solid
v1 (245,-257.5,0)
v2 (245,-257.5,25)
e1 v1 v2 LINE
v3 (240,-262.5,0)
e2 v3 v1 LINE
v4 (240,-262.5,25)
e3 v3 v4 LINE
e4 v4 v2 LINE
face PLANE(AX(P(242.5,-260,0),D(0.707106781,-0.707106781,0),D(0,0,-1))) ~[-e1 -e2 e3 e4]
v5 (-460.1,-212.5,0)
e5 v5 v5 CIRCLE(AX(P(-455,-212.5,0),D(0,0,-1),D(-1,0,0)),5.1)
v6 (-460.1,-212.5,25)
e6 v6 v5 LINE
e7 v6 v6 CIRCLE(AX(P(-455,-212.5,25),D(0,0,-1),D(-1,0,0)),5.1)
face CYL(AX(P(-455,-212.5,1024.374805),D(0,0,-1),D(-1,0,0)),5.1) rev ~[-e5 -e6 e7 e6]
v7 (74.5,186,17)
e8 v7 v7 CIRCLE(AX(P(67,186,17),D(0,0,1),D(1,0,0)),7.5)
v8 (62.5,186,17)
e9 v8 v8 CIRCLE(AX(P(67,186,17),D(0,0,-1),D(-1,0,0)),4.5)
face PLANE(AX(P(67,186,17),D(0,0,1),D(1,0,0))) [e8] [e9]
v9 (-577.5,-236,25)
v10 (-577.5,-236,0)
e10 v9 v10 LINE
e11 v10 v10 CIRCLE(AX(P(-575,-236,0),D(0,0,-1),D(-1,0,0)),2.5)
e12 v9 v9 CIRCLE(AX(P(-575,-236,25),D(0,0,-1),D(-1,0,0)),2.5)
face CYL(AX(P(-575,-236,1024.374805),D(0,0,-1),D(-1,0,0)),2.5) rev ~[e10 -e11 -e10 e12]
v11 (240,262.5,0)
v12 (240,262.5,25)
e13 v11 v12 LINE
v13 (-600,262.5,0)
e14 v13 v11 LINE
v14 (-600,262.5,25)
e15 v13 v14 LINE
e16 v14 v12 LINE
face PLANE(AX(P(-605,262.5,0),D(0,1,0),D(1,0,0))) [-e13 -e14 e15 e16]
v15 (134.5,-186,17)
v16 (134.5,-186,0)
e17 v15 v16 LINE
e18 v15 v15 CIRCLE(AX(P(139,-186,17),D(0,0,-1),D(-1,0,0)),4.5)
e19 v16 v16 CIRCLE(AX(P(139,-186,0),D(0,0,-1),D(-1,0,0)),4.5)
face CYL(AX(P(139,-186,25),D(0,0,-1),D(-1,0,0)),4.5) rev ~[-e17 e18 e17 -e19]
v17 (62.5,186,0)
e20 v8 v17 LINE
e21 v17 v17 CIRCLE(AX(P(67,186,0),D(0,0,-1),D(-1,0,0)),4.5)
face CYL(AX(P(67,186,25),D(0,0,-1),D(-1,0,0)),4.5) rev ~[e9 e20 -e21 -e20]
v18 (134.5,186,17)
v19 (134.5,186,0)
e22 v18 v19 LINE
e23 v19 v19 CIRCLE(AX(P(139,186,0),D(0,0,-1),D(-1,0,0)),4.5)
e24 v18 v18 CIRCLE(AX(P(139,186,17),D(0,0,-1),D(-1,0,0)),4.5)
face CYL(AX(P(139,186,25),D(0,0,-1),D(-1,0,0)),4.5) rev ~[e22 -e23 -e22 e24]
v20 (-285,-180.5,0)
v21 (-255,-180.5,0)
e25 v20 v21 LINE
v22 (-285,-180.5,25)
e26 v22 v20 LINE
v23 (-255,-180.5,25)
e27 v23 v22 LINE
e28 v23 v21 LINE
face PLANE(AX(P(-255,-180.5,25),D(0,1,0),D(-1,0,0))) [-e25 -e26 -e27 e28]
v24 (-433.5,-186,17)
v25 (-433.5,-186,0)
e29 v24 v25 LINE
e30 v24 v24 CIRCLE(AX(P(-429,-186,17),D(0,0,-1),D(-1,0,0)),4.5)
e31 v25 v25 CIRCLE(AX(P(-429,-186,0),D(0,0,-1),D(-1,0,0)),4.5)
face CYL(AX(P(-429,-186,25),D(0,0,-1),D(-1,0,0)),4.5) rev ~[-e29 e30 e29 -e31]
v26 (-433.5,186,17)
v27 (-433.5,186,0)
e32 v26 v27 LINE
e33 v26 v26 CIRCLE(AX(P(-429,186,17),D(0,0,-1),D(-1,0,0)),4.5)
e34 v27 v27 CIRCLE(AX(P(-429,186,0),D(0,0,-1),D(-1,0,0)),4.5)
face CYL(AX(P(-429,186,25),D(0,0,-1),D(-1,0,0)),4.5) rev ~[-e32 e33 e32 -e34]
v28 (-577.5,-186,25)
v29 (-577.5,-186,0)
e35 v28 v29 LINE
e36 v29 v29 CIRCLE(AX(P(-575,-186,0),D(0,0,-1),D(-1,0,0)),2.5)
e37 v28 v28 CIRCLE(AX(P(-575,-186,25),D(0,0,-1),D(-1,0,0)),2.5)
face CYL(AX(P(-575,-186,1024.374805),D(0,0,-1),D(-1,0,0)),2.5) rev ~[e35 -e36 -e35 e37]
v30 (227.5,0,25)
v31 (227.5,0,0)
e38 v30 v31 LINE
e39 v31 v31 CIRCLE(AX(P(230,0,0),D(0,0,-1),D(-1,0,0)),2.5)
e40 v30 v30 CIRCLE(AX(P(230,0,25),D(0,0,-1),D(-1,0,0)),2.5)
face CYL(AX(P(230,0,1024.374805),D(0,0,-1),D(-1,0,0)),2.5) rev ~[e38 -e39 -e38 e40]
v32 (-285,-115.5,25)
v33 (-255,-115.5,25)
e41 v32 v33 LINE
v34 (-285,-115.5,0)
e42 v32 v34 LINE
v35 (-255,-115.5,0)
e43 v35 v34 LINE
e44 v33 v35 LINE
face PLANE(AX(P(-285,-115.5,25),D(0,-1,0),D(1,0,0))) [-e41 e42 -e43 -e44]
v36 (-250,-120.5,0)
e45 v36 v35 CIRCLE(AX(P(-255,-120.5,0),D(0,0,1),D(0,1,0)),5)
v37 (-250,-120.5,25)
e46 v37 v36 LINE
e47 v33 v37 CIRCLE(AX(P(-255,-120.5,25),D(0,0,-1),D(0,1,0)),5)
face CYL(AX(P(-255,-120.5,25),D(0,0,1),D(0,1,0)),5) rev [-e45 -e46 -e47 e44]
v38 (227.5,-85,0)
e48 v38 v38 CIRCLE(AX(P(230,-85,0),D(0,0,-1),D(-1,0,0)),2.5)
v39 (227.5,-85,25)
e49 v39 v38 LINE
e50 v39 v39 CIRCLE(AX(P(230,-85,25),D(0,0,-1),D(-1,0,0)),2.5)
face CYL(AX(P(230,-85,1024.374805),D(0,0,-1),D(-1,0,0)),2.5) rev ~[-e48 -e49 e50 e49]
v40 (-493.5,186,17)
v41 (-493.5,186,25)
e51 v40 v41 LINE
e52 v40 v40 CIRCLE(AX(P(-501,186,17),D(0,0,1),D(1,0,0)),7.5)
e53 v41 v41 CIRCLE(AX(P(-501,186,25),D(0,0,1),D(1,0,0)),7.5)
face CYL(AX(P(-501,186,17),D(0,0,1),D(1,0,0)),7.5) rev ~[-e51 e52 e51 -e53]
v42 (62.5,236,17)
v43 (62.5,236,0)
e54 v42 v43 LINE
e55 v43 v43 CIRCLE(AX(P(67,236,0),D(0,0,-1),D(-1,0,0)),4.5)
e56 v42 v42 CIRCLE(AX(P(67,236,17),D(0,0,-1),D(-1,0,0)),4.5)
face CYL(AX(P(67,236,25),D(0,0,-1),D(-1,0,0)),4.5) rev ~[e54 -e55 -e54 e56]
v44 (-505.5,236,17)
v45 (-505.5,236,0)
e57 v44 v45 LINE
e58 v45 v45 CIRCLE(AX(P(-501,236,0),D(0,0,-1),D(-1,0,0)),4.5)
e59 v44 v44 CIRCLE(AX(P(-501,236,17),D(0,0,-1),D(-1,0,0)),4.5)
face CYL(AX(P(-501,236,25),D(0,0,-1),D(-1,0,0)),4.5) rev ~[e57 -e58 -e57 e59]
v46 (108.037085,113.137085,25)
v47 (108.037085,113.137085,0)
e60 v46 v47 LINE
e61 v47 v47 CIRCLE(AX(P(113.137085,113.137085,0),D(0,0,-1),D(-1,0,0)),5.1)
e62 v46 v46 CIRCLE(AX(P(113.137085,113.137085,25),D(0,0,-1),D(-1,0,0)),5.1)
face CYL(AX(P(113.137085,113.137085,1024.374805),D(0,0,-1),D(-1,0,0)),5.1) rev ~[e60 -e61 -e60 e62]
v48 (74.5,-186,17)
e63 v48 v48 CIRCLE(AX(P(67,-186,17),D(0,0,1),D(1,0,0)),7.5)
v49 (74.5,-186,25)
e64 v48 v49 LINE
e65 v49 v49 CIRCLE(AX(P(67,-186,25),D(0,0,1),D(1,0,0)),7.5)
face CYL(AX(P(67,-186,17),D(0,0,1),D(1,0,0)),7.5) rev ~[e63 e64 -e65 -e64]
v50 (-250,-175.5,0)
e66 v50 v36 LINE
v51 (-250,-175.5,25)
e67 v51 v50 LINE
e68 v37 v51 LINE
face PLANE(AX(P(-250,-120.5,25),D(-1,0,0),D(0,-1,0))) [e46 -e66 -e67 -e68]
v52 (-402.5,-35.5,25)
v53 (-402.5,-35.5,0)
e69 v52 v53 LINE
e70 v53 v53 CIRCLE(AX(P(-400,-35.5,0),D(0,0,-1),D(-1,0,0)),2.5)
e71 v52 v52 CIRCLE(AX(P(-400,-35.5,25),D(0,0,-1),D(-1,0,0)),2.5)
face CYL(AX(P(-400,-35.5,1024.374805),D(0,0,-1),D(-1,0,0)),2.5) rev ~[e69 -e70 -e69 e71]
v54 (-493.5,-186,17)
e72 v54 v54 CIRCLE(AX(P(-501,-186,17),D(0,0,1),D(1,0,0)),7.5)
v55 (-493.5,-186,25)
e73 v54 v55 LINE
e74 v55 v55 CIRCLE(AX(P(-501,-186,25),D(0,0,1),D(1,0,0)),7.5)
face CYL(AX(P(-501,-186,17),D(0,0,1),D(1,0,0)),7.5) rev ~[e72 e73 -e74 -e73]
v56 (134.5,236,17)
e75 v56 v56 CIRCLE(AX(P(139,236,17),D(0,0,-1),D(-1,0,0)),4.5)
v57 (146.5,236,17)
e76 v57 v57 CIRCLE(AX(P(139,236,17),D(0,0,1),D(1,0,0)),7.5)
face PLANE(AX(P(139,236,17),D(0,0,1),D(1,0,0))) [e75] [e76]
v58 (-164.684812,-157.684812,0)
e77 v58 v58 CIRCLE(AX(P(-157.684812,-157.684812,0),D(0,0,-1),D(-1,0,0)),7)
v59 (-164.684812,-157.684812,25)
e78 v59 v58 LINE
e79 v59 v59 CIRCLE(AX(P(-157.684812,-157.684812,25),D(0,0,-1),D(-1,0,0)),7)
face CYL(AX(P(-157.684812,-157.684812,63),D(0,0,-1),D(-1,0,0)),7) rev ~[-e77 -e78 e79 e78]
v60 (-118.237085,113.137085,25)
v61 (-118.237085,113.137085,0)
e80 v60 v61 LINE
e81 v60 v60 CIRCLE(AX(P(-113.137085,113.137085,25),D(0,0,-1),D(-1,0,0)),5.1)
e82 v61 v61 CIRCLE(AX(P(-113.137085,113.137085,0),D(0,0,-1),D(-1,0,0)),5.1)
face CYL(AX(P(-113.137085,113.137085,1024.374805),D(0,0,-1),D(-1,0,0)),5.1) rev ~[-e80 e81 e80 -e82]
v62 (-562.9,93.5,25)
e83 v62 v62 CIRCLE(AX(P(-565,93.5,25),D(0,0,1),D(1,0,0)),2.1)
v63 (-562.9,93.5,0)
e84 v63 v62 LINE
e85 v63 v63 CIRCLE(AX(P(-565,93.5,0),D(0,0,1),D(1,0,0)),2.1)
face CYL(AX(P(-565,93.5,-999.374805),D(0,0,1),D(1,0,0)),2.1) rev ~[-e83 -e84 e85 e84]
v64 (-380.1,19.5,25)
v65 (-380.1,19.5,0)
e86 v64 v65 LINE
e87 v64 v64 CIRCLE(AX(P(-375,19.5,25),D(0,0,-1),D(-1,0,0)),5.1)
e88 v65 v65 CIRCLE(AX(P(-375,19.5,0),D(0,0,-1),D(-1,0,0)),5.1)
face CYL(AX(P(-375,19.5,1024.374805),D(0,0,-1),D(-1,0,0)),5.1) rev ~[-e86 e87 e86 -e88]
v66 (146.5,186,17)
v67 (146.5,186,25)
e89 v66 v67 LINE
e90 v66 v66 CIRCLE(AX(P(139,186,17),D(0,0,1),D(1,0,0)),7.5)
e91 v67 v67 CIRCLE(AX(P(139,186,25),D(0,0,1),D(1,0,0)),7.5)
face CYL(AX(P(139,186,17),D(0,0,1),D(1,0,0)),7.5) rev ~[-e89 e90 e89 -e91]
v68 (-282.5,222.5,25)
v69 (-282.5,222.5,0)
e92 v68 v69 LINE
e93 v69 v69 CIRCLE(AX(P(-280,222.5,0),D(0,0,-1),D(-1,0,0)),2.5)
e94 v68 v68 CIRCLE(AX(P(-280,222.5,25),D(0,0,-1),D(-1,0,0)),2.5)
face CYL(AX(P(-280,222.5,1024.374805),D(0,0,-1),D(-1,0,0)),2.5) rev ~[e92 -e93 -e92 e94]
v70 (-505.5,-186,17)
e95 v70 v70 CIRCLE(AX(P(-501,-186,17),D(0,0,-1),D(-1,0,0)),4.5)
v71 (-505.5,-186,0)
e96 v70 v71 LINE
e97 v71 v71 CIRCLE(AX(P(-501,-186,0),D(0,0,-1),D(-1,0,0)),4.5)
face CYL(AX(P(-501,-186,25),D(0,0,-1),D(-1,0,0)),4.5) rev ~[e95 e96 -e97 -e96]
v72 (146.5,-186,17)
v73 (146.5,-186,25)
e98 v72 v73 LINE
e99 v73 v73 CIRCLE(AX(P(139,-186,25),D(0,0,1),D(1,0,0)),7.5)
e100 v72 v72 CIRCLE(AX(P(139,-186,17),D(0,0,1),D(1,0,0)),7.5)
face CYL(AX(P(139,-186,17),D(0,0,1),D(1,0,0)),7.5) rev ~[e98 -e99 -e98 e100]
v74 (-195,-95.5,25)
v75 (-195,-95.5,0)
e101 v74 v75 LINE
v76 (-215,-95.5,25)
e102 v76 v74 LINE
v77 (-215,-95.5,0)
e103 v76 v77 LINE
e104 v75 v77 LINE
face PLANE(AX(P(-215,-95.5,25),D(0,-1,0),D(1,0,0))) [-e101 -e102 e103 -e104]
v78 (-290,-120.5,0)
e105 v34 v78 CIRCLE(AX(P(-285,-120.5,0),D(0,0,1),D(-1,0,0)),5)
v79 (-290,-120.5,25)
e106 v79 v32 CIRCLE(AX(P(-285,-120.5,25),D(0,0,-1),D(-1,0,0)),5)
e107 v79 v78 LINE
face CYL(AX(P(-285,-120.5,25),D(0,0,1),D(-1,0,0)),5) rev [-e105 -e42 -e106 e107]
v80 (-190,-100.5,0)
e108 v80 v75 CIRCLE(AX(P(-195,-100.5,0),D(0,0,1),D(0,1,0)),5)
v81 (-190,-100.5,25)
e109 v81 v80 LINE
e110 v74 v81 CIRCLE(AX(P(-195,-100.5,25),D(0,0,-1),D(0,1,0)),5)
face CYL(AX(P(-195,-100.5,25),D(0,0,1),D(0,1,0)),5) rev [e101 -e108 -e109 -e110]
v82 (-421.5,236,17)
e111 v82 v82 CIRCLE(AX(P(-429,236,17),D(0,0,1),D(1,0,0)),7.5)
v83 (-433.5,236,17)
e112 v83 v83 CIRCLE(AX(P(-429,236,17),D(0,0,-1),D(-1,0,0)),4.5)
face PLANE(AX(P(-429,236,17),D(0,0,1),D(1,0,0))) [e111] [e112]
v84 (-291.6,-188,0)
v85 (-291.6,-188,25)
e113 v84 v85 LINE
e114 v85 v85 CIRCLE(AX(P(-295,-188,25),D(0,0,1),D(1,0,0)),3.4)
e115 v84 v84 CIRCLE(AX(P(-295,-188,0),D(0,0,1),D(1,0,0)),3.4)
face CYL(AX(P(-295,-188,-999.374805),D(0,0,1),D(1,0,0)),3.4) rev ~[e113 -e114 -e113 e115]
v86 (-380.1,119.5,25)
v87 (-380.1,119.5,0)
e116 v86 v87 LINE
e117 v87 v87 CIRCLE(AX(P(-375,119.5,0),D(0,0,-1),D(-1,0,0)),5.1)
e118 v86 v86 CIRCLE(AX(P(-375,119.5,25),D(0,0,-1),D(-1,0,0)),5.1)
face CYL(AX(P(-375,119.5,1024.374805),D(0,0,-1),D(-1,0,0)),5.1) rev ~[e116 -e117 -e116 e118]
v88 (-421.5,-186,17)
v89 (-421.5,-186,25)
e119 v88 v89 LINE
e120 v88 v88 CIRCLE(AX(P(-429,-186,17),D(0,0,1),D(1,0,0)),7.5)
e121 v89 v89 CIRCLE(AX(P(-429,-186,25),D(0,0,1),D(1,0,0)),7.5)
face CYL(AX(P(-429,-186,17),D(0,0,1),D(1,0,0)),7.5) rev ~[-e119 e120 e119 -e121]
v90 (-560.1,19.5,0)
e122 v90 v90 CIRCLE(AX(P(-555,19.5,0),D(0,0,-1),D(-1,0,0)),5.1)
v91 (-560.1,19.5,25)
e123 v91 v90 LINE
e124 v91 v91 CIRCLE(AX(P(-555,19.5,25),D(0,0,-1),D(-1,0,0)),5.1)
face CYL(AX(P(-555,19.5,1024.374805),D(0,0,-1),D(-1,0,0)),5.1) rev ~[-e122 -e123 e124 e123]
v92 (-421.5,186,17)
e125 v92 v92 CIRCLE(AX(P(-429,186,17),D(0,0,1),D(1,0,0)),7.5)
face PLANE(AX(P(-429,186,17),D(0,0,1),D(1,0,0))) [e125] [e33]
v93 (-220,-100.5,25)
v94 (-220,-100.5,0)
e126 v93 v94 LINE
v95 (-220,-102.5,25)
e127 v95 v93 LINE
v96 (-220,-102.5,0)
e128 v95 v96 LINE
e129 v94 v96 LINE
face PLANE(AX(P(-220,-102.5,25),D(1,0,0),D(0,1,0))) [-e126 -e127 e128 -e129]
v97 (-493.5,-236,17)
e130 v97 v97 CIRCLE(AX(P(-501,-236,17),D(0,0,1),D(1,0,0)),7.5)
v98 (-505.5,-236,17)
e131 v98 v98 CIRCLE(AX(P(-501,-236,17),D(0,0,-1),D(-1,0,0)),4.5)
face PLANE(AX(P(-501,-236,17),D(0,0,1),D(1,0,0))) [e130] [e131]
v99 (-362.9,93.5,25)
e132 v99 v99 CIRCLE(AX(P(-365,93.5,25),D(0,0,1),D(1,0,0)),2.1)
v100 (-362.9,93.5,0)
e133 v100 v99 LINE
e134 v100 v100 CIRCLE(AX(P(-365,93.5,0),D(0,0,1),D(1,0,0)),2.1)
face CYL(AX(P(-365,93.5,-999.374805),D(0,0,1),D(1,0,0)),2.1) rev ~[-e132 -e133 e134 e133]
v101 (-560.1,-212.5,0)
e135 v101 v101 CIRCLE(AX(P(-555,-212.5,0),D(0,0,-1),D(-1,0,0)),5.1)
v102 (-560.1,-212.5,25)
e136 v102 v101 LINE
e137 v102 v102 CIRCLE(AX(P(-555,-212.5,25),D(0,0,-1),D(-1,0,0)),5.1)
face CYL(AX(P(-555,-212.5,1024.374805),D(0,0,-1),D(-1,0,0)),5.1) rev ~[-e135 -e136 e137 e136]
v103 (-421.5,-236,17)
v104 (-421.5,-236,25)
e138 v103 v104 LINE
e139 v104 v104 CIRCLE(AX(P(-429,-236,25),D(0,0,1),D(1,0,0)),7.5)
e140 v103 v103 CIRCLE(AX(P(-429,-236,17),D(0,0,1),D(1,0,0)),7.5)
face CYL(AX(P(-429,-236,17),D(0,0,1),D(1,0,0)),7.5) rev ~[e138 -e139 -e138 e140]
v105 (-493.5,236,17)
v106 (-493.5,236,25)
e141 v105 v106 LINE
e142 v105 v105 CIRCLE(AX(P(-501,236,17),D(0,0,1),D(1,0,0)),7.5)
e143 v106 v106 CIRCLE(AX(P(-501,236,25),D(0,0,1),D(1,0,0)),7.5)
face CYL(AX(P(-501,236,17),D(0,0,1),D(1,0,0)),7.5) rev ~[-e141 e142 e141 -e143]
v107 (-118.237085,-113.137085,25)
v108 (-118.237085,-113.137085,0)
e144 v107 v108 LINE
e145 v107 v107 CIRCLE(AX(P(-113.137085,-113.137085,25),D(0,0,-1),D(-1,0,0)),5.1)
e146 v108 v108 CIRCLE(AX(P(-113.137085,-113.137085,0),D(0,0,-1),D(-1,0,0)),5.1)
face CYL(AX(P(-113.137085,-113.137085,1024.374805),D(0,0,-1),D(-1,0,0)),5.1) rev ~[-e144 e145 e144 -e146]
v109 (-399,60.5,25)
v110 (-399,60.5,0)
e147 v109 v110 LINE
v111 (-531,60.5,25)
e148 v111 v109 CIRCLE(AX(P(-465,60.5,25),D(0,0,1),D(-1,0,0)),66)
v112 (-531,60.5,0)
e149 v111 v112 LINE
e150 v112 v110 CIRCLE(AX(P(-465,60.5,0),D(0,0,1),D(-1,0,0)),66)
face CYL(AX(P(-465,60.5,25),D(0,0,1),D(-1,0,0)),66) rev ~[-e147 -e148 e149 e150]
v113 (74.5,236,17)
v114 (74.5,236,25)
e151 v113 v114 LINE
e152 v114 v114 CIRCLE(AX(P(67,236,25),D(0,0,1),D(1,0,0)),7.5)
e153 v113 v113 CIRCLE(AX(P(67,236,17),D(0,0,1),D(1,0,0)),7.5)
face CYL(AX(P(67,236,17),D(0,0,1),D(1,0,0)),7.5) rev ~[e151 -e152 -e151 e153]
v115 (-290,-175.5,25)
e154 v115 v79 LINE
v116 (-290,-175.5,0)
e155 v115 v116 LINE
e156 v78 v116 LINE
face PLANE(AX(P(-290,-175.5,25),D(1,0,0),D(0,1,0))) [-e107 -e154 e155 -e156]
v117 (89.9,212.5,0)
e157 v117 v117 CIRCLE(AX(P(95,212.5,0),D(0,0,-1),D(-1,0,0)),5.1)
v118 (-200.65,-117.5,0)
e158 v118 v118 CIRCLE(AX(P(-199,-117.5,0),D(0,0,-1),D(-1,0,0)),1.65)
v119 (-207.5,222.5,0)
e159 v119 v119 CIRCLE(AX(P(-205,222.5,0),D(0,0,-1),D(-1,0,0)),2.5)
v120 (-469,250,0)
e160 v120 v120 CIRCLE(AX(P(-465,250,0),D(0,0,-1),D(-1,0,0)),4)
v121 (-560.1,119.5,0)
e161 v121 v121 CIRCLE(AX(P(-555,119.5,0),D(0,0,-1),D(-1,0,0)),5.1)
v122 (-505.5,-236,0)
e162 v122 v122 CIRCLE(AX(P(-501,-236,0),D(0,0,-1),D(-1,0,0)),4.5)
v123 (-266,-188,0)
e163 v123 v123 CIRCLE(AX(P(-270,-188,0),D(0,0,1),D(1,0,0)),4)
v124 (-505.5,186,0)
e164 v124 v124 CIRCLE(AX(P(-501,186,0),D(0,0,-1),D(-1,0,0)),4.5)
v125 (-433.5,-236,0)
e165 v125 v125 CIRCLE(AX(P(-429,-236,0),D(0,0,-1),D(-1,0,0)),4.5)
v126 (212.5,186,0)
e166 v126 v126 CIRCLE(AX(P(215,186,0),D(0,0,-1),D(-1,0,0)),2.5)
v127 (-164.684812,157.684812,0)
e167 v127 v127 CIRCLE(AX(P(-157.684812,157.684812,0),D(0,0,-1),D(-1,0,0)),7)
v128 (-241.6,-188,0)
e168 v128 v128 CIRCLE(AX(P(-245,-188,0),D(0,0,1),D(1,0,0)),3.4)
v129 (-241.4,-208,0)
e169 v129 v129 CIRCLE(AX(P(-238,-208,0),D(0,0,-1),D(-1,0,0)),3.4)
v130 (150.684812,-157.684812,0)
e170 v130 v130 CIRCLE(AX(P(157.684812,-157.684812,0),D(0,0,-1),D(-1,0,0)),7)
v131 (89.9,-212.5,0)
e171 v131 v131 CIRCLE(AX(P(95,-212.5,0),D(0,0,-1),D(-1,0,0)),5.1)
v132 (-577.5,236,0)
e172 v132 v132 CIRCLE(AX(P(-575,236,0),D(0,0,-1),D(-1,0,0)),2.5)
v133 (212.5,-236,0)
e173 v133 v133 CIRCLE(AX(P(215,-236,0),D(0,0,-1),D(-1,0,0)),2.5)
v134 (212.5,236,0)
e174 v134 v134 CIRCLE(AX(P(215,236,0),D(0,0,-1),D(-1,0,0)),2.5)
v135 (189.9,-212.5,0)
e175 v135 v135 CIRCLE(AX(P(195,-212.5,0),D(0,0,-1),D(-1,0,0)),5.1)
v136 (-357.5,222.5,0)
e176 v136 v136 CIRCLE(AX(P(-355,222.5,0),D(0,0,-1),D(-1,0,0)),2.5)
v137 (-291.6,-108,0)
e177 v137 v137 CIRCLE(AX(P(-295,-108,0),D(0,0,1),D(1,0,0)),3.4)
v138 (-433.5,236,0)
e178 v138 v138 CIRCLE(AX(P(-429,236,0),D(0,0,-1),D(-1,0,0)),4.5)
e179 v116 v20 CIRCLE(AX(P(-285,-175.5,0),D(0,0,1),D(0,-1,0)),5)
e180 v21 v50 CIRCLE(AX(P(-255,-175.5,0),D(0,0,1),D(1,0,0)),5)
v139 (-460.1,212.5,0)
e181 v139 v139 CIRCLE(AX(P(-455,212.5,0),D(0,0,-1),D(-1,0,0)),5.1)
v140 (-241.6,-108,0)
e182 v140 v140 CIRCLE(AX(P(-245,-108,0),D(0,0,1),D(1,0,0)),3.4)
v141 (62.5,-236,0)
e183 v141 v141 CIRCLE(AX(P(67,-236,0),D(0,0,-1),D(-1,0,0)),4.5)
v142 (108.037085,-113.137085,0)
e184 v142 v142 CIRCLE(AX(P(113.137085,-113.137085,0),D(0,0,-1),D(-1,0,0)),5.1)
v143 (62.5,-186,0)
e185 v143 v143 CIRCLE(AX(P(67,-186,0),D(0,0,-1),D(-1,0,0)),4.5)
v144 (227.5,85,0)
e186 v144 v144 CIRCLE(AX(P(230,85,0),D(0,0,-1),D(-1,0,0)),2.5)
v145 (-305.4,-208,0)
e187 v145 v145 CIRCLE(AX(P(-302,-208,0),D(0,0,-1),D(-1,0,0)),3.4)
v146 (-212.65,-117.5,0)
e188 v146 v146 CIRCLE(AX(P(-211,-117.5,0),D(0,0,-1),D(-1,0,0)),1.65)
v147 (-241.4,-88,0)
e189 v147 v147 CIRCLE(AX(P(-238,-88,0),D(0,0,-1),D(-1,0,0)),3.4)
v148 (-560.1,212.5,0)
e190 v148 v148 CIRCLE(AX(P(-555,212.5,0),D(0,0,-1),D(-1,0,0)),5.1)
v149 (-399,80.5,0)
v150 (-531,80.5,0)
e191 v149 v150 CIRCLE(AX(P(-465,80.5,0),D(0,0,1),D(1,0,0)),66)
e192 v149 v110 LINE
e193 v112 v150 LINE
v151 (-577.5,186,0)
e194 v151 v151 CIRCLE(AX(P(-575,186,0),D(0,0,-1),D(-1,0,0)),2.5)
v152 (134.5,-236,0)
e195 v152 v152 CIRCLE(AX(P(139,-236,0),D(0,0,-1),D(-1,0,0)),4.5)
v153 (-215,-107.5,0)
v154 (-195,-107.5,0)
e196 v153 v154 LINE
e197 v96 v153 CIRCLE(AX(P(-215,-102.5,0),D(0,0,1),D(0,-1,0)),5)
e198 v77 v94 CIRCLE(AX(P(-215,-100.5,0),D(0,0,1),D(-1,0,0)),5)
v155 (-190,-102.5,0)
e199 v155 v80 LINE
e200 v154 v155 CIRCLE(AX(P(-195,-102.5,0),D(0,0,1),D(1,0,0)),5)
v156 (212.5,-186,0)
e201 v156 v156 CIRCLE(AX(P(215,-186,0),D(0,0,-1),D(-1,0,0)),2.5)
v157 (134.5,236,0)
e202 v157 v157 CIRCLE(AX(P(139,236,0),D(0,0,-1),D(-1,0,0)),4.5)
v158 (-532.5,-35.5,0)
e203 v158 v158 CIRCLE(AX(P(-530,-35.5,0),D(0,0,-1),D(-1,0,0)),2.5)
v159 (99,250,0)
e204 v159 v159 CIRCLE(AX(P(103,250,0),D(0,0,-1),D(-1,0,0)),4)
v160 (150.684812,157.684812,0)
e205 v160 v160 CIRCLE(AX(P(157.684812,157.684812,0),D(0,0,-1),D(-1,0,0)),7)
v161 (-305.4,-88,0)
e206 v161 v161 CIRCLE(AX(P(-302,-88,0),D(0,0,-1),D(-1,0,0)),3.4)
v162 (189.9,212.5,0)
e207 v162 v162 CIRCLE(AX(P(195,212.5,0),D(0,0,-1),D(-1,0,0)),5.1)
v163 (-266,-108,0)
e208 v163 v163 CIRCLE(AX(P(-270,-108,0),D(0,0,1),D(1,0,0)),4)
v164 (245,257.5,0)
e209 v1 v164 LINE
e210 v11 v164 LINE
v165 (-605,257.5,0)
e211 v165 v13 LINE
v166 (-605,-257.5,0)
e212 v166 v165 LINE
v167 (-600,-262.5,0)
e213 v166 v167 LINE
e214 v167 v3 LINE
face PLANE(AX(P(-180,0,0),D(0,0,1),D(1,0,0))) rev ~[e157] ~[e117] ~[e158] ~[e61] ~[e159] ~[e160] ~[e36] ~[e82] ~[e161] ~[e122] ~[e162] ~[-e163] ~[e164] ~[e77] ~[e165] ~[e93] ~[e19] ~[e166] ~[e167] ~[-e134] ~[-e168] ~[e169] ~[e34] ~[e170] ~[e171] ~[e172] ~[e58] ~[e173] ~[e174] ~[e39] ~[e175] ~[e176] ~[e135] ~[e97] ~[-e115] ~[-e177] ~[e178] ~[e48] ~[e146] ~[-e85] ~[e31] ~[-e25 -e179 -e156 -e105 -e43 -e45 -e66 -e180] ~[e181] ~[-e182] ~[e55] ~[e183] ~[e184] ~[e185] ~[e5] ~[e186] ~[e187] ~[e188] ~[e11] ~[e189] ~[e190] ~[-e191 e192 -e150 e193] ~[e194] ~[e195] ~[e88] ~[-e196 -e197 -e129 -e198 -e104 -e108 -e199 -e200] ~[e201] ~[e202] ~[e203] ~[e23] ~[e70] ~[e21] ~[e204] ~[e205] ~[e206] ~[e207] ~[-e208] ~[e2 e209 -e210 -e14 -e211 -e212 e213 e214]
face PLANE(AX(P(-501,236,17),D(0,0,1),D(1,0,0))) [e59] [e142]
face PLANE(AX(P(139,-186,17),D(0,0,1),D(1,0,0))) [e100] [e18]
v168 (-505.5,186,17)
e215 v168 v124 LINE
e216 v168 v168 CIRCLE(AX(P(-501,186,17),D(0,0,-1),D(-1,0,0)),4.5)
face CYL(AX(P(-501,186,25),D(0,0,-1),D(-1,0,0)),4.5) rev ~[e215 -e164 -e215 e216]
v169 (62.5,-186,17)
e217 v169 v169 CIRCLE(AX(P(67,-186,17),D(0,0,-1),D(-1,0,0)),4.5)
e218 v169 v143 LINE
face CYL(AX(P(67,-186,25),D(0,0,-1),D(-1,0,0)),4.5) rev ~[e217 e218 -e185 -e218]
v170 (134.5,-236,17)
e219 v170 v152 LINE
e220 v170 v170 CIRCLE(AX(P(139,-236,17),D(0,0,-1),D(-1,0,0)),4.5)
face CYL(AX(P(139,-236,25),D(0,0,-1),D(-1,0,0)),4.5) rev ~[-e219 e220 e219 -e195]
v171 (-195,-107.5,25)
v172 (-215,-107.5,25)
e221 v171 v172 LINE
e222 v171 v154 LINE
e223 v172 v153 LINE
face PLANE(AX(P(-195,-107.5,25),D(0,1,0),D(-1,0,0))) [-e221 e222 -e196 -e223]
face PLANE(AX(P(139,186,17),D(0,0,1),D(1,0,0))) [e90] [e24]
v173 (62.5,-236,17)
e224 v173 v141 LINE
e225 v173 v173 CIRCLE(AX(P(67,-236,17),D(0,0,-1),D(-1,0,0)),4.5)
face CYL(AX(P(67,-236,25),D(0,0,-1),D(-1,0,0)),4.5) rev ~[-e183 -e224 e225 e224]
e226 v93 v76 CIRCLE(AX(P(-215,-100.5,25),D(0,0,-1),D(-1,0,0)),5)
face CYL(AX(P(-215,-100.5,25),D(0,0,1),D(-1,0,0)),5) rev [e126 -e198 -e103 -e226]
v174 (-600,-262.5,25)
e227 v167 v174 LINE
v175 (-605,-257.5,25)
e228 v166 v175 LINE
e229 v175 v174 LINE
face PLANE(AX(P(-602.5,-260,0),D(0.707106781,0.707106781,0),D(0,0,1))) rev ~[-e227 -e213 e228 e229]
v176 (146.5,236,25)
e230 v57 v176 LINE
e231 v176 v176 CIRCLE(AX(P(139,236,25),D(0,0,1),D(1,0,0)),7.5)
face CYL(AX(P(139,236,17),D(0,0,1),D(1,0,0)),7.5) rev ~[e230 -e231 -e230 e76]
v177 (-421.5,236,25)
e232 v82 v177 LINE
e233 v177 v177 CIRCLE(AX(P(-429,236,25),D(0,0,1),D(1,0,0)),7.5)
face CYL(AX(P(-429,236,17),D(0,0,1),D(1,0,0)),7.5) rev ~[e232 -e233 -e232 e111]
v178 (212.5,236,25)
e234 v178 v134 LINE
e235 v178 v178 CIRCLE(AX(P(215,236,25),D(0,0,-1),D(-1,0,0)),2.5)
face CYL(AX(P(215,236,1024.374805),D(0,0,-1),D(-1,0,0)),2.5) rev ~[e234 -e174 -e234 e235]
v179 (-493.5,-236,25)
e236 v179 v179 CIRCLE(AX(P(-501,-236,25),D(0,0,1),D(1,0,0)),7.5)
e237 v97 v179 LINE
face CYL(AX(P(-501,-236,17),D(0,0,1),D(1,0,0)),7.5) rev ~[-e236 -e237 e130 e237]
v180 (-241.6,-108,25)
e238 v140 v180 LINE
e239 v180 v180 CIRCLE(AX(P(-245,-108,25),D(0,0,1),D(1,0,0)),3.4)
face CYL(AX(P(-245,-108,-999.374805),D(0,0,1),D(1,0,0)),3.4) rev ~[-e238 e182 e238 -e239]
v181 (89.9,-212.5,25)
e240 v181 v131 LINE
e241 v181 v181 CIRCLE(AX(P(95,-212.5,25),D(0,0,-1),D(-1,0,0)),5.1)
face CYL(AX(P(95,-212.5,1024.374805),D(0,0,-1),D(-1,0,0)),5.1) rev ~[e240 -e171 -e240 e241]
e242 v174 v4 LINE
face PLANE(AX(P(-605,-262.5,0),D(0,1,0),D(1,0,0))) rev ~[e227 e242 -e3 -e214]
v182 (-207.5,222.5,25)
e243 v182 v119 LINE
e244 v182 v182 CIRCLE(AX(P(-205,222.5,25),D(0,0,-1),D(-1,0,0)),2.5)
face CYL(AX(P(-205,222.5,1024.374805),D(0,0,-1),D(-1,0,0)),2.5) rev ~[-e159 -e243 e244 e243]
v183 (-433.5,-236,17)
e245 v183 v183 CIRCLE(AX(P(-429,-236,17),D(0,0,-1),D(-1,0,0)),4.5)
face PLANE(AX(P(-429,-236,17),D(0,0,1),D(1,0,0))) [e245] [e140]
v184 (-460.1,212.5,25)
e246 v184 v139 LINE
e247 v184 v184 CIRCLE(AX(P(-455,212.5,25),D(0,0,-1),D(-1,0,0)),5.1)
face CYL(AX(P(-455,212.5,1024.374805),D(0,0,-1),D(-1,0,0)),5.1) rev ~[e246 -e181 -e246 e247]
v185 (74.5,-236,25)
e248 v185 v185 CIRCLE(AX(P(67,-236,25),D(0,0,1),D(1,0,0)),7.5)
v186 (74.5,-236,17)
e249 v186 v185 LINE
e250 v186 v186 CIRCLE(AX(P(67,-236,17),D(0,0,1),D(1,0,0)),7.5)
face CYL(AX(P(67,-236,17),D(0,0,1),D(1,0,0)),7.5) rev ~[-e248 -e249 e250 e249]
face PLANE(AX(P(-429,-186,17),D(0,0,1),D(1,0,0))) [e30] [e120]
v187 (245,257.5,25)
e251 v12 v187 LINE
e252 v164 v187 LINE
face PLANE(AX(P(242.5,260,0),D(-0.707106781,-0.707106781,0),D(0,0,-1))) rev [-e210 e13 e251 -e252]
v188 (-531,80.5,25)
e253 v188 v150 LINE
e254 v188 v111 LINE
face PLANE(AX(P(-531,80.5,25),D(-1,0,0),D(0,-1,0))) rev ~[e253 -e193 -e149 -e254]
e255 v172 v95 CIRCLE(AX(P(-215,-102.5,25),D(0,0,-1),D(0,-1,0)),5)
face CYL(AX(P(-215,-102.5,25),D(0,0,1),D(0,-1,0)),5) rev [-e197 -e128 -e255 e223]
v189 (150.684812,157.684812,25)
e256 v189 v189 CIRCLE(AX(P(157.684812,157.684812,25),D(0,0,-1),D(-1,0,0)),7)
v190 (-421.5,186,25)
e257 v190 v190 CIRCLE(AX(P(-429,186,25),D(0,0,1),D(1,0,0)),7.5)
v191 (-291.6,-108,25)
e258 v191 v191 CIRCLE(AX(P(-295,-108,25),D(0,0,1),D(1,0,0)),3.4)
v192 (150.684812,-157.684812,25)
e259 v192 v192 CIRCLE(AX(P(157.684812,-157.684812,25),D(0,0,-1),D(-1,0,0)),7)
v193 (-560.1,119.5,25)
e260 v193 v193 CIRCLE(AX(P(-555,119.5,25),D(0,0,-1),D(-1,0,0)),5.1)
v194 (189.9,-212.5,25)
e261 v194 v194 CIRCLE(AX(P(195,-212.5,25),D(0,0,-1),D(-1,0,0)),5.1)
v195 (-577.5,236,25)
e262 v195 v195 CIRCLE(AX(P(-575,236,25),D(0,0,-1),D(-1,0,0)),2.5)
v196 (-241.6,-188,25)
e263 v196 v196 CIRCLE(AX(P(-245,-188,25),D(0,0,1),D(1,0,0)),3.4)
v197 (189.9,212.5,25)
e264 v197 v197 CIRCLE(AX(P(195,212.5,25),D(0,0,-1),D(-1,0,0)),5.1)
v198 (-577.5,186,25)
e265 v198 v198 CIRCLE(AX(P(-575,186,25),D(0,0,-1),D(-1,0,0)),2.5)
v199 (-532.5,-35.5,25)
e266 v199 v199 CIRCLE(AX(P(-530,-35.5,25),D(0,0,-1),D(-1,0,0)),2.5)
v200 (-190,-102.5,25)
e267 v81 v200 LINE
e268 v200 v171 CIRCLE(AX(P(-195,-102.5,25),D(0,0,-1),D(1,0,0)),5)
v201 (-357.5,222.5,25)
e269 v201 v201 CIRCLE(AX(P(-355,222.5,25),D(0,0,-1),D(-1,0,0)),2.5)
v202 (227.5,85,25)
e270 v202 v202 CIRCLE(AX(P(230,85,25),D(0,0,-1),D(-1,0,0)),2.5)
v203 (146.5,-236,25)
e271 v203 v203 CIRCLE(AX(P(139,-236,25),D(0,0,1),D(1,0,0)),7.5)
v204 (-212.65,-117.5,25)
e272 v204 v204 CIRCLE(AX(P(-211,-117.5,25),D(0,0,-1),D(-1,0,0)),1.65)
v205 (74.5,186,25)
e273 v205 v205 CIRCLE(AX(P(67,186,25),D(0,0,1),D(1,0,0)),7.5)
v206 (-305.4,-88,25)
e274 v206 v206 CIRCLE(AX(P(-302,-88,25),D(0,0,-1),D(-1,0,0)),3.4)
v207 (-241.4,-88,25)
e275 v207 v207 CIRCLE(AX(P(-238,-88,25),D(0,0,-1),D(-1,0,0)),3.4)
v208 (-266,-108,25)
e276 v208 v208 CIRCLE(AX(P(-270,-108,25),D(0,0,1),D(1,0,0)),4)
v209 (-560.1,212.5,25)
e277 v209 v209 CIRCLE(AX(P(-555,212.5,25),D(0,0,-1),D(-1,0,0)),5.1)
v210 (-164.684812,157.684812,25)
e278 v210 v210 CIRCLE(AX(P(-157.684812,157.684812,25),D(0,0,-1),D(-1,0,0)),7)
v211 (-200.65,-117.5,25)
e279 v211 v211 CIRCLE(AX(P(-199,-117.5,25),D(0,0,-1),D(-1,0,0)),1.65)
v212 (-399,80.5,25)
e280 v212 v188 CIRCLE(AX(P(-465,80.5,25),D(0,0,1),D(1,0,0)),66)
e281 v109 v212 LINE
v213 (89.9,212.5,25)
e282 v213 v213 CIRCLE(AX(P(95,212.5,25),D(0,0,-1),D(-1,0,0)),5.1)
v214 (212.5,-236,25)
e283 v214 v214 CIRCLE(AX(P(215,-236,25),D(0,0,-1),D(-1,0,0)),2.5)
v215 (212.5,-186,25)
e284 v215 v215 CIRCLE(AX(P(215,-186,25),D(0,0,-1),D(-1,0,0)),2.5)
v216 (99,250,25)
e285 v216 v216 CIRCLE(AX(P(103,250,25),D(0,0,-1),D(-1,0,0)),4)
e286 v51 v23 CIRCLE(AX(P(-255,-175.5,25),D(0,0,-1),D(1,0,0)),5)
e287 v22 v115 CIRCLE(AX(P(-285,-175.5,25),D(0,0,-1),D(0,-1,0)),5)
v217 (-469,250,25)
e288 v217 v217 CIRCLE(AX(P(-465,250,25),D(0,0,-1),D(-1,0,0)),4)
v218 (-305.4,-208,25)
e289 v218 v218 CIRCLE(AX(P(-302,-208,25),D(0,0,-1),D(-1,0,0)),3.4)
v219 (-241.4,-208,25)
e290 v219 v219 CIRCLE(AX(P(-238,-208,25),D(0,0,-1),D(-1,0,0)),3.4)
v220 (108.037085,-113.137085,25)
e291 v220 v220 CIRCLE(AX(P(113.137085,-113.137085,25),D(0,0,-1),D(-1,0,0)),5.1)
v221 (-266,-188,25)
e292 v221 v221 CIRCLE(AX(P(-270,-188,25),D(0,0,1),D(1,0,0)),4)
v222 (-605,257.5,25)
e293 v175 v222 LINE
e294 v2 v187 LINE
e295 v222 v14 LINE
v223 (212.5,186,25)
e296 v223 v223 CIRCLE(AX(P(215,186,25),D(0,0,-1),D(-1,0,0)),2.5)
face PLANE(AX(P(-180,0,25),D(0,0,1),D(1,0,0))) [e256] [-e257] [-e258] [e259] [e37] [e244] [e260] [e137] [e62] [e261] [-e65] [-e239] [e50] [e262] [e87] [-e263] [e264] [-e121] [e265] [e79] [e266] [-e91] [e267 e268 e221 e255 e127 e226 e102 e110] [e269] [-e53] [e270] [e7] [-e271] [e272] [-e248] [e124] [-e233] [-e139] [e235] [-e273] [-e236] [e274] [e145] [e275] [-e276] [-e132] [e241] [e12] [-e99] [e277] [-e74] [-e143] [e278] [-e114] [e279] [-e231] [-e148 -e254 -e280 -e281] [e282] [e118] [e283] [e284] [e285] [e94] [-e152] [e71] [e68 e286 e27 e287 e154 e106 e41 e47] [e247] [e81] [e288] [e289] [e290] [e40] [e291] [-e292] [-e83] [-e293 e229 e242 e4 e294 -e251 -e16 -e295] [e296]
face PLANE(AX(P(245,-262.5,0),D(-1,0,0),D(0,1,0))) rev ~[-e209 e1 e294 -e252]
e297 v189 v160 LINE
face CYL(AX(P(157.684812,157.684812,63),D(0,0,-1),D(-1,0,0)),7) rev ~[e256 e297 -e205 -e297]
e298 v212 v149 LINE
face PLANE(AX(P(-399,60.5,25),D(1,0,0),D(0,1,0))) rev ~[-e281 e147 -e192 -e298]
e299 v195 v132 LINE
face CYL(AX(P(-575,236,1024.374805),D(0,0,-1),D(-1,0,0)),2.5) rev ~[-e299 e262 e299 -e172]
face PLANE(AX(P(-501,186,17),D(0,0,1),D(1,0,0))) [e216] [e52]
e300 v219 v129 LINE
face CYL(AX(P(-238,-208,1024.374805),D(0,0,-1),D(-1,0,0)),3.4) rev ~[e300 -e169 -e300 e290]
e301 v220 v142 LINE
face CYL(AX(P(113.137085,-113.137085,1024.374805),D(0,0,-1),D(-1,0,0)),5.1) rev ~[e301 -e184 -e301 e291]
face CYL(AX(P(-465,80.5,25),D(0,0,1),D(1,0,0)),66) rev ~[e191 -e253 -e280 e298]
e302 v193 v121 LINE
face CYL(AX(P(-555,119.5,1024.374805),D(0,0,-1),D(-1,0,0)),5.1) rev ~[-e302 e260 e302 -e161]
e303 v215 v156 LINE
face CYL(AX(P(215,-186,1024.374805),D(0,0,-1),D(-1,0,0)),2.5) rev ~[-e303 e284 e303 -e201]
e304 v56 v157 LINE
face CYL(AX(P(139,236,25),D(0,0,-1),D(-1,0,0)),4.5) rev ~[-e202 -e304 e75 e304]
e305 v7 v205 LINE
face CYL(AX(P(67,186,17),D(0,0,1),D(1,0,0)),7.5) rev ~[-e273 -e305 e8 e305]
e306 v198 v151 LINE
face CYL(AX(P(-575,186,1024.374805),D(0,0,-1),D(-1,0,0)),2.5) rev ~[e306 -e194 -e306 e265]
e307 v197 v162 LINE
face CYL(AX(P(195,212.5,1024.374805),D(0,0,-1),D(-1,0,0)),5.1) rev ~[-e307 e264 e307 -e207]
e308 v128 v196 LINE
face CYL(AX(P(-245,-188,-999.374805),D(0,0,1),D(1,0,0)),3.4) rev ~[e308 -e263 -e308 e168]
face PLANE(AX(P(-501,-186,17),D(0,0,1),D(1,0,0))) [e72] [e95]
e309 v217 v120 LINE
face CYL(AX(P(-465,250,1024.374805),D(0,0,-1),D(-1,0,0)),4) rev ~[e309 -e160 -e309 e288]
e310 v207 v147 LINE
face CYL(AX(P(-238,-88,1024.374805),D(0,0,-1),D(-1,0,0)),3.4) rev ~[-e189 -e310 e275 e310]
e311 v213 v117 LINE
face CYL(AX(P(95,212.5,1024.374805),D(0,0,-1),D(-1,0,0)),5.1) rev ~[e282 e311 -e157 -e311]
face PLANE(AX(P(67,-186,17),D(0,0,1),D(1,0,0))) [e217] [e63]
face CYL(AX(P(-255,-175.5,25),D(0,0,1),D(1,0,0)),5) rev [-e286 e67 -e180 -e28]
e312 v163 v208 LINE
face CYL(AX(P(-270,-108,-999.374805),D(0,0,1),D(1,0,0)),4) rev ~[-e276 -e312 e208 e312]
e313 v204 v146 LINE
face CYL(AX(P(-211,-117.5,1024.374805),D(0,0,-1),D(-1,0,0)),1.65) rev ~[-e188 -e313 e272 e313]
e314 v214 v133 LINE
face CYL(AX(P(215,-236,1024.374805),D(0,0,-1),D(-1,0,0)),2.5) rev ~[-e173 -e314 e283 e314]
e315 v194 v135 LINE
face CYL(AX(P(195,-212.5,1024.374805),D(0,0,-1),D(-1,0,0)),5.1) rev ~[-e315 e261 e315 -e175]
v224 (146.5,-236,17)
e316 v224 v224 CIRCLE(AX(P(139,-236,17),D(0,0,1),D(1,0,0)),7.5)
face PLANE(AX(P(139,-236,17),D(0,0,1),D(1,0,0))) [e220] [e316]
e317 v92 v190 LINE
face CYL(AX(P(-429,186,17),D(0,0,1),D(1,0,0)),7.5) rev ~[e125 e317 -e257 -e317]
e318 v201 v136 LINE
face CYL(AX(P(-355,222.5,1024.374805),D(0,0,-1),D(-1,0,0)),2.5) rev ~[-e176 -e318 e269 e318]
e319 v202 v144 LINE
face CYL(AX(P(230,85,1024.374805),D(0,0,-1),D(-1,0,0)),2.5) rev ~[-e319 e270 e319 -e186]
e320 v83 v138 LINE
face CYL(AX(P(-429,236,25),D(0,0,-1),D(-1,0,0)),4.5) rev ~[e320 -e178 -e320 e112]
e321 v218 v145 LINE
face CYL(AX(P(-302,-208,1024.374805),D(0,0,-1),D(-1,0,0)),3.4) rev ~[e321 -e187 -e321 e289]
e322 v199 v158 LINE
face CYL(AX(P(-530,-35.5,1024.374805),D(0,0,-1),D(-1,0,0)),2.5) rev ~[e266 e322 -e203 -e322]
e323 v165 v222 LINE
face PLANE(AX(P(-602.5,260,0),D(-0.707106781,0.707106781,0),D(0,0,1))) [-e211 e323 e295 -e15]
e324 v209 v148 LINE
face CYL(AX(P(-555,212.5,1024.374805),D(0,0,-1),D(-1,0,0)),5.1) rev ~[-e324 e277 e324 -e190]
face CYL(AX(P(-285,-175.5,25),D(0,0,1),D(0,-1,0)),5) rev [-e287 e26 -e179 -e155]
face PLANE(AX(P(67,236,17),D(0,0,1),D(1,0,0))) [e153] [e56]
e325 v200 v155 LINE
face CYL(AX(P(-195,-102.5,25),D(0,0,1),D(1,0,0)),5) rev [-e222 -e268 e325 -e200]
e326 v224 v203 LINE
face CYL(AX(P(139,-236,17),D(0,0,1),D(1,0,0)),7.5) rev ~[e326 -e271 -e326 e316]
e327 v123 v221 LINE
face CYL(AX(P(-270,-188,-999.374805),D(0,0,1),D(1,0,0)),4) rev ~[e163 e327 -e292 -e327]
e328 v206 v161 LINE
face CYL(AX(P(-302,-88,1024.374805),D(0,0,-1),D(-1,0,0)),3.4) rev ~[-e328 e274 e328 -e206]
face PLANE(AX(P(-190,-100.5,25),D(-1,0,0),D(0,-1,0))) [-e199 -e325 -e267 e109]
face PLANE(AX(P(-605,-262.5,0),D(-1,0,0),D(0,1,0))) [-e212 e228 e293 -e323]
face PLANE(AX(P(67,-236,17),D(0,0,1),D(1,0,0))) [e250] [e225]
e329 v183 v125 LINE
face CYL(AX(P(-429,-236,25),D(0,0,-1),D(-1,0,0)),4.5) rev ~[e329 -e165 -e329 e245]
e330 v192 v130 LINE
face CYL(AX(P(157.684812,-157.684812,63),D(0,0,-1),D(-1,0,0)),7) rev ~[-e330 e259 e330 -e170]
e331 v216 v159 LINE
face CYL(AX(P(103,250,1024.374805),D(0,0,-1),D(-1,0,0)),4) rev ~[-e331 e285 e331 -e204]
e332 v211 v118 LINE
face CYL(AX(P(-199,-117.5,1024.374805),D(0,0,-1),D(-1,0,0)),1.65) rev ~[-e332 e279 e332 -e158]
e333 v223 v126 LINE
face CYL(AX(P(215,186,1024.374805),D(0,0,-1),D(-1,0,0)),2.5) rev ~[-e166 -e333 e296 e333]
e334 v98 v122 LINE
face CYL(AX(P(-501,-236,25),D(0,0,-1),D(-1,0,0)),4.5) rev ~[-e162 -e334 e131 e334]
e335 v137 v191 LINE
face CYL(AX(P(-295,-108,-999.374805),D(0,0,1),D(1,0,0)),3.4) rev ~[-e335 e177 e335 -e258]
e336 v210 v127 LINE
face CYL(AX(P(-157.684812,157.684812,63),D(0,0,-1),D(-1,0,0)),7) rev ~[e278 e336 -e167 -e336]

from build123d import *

# Parameters (mm, degrees)
SKETCH_1_W                   = 850
SKETCH_1_H                   = 525
EXTRUDE_1_DEPTH              = 25
HOLE_WIZARD_M16_1_D          = 14
HOLE_WIZARD_M16_1_DEPTH      = 38
HOLE_WIZARD_M16_1_TIP        = 4.206024333
HOLE_WIZARD_M12_2_D          = 10.2
HOLE_WIZARD_M8_1_D           = 9
HOLE_WIZARD_M8_1_CBORE_D     = 15
HOLE_WIZARD_M8_1_CBORE_DEPTH = 8
PATTERN_LINEAR_1_COUNT       = 2
PATTERN_LINEAR_1_PITCH       = 568
CUT_EXTRUDE_1_REACH          = 661.967
CHAMFER_1_SIZE               = 5
HOLE_WIZARD_5_0_5_1_D        = 8
HOLE_WIZARD_M6_2_D           = 5
HOLE_WIZARD_M6_3_D           = 5
CUT_EXTRUDE_3_REACH          = 661.967
CUT_EXTRUDE_4_REACH          = 661.967
HOLE_WIZARD_M4_1_D           = 3.3
HOLE_WIZARD_M12_3_D          = 10.2
HOLE_WIZARD_M5_1_D           = 4.2
HOLE_WIZARD_M8_1_2_D         = 6.8
HOLE_WIZARD_M8_2_D           = 6.8
HOLE_WIZARD_8_0_8_1_D        = 8
HOLE_WIZARD_M12_4_D          = 10.2
HOLE_WIZARD_M6_4_D           = 5
HOLE_WIZARD_M6_5_D           = 5


with BuildPart() as part:
    # 草圖1 → 伸長1 (new body)
    with BuildSketch(Plane.XY):
        with Locations((-180, 0)):
            Rectangle(SKETCH_1_W, SKETCH_1_H)
    extrude(amount=EXTRUDE_1_DEPTH)

    # M16 螺紋孔1
    with Locations(Plane.XY.offset(25)):
        with Locations((-157.684812205, 157.684812205), (257.684812205, 137.684812205), (157.684812205, 157.684812205), (157.684812205, -157.684812205), (-157.684812205, -157.684812205)):
            Hole(HOLE_WIZARD_M16_1_D / 2, depth=HOLE_WIZARD_M16_1_DEPTH)
            with Locations((0, 0, -(HOLE_WIZARD_M16_1_DEPTH + HOLE_WIZARD_M16_1_TIP / 2))):  # 118° drill point
                Cone(0, HOLE_WIZARD_M16_1_D / 2, HOLE_WIZARD_M16_1_TIP, mode=Mode.SUBTRACT)

    # M12 螺紋孔2 (through all)
    with Locations(Plane.XY.offset(25)):
        with Locations((-113.13708499, 113.13708499), (113.13708499, 113.13708499), (-113.13708499, -113.13708499), (113.13708499, -113.13708499)):
            Hole(HOLE_WIZARD_M12_2_D / 2)

    # Hole Wizard M8 _1 (through all)
    with Locations(Plane.XY.offset(25)):
        with Locations((-501, 236), (-429, 236), (-501, 186), (-429, 186), (-429, -186), (-501, -186), (-429, -236), (-501, -236)):
            hole_wizard_m8_1 = CounterBoreHole(HOLE_WIZARD_M8_1_D / 2, HOLE_WIZARD_M8_1_CBORE_D / 2, HOLE_WIZARD_M8_1_CBORE_DEPTH)

    # 直線複製排列1: Hole Wizard M8 _1 ×2
    with Locations(*[(i * PATTERN_LINEAR_1_PITCH, 0, 0) for i in range(1, PATTERN_LINEAR_1_COUNT)]):
        add(hole_wizard_m8_1, mode=Mode.SUBTRACT)

    # 草圖41 → 除料-伸長1 (cut, up to next)
    with BuildSketch(Plane.XY.offset(25), mode=Mode.PRIVATE) as cut_extrude_1_sk1:
        with BuildLine():
            Line((-531, 80.5), (-531, 60.5))
            ThreePointArc((-531, 60.5), (-465, -5.5), (-399, 60.5))
            Line((-399, 60.5), (-399, 80.5))
            ThreePointArc((-399, 80.5), (-465, 146.5), (-531, 80.5))
        make_face()
    cut_extrude_1_tool1 = extrude(cut_extrude_1_sk1.sketch, amount=-CUT_EXTRUDE_1_REACH, mode=Mode.PRIVATE) & part.part
    add(cut_extrude_1_tool1.solids().sort_by_distance((-465, 70.5, 25))[0], mode=Mode.SUBTRACT)

    # 導角1
    chamfer_1_edges = [part.edges().sort_by_distance(p)[0] for p in [
        (-605, 262.5, 12.5),
        (245, 262.5, 12.5),
        (245, -262.5, 12.5),
        (-605, -262.5, 12.5),
    ]]
    chamfer(chamfer_1_edges, length=CHAMFER_1_SIZE)

    # Ø5.0 (5) 直徑孔1 (through all)
    with Locations(Plane.XY.offset(25)):
        with Locations((-465, 250), (103, 250)):
            Hole(HOLE_WIZARD_5_0_5_1_D / 2)

    # M6 螺紋孔2 (through all)
    with Locations(Plane.XY.offset(25)):
        with Locations((-530, -35.5), (-400, -35.5)):
            Hole(HOLE_WIZARD_M6_2_D / 2)

    # M6 螺紋孔3 (through all)
    with Locations(Plane.XY.offset(25)):
        with Locations((230, 85), (230, -85), (230, 0)):
            Hole(HOLE_WIZARD_M6_3_D / 2)

    # 草圖69 → 除料-伸長3 (cut, up to next)
    with BuildSketch(Plane.XY.offset(25), mode=Mode.PRIVATE) as cut_extrude_3_sk1:
        with BuildLine():
            Line((-285, -115.5), (-255, -115.5))
            ThreePointArc((-255, -115.5), (-251.464466094, -116.964466094), (-250, -120.5))
            Line((-250, -120.5), (-250, -175.5))
            ThreePointArc((-250, -175.5), (-251.464466094, -179.035533906), (-255, -180.5))
            Line((-255, -180.5), (-285, -180.5))
            ThreePointArc((-285, -180.5), (-288.535533906, -179.035533906), (-290, -175.5))
            Line((-290, -175.5), (-290, -120.5))
            ThreePointArc((-290, -120.5), (-288.535533906, -116.964466094), (-285, -115.5))
        make_face()
    cut_extrude_3_tool1 = extrude(cut_extrude_3_sk1.sketch, amount=-CUT_EXTRUDE_3_REACH, mode=Mode.PRIVATE) & part.part
    add(cut_extrude_3_tool1.solids().sort_by_distance((-270, -148, 25))[0], mode=Mode.SUBTRACT)

    # 草圖70 → 除料-伸長4 (cut, up to next)
    with BuildSketch(Plane.XY.offset(25), mode=Mode.PRIVATE) as cut_extrude_4_sk1:
        with BuildLine():
            Line((-215, -95.5), (-195, -95.5))
            ThreePointArc((-195, -95.5), (-191.464466094, -96.964466094), (-190, -100.5))
            Line((-190, -100.5), (-190, -102.5))
            ThreePointArc((-190, -102.5), (-191.464466094, -106.035533906), (-195, -107.5))
            Line((-195, -107.5), (-215, -107.5))
            ThreePointArc((-215, -107.5), (-218.535533906, -106.035533906), (-220, -102.5))
            Line((-220, -102.5), (-220, -100.5))
            ThreePointArc((-220, -100.5), (-218.535533906, -96.964466094), (-215, -95.5))
        make_face()
    cut_extrude_4_tool1 = extrude(cut_extrude_4_sk1.sketch, amount=-CUT_EXTRUDE_4_REACH, mode=Mode.PRIVATE) & part.part
    add(cut_extrude_4_tool1.solids().sort_by_distance((-205, -101.5, 25))[0], mode=Mode.SUBTRACT)

    # M4 螺紋孔1 (through all)
    with Locations(Plane(origin=(-9.324367317, -29.089287775, 25), x_dir=(1, 0, 0), z_dir=(0, 0, 1))):
        with Locations((-201.675632683, -88.410712225), (-189.675632683, -88.410712225)):
            Hole(HOLE_WIZARD_M4_1_D / 2)

    # M12 螺紋孔3 (through all)
    with Locations(Plane(origin=(-555, 119.5, 25), x_dir=(1, 0, 0), z_dir=(0, 0, 1))):
        with Locations((0, 0), (0, -100), (180, 0), (180, -100)):
            Hole(HOLE_WIZARD_M12_3_D / 2)

    # M5 螺紋孔1 (through all)
    with Locations(Plane(origin=(-565, 93.5, 0), x_dir=(-1, 0, 0), z_dir=(0, 0, -1))):
        with Locations((0, 0), (-200, 0)):
            Hole(HOLE_WIZARD_M5_1_D / 2)

    # Hole Wizard M8 _1 2 (through all)
    with Locations(Plane(origin=(-302, -88, 25), x_dir=(1, 0, 0), z_dir=(0, 0, 1))):
        with Locations((0, 0), (0, -120), (64, -120), (64, 0)):
            Hole(HOLE_WIZARD_M8_1_2_D / 2)

    # M8 螺紋孔2 (through all)
    with Locations(Plane(origin=(0, 0, 0), x_dir=(-1, 0, 0), z_dir=(0, 0, -1))):
        with Locations((295, -108), (245, -108), (295, -188), (245, -188)):
            Hole(HOLE_WIZARD_M8_2_D / 2)

    # Ø8.0 (8) 直徑孔1 (through all)
    with Locations(Plane(origin=(0, 0, 0), x_dir=(-1, 0, 0), z_dir=(0, 0, -1))):
        with Locations((270, -108), (270, -188)):
            Hole(HOLE_WIZARD_8_0_8_1_D / 2)

    # M12 螺紋孔4 (through all)
    with Locations(Plane.XY.offset(25)):
        with Locations((-555, 212.5), (-455, 212.5), (-555, -212.5), (-455, -212.5), (95, 212.5), (195, 212.5), (95, -212.5), (195, -212.5)):
            Hole(HOLE_WIZARD_M12_4_D / 2)

    # M6 螺紋孔4 (through all)
    with Locations(Plane.XY.offset(25)):
        with Locations((-575, 186), (-575, 236), (-575, -186), (-575, -236), (215, 236), (215, 186), (215, -186), (215, -236)):
            Hole(HOLE_WIZARD_M6_4_D / 2)

    # M6 螺紋孔5 (through all)
    with Locations(Plane.XY.offset(25)):
        with Locations((-280, 222.5), (-205, 222.5), (-355, 222.5)):
            Hole(HOLE_WIZARD_M6_5_D / 2)


solid = part.part
